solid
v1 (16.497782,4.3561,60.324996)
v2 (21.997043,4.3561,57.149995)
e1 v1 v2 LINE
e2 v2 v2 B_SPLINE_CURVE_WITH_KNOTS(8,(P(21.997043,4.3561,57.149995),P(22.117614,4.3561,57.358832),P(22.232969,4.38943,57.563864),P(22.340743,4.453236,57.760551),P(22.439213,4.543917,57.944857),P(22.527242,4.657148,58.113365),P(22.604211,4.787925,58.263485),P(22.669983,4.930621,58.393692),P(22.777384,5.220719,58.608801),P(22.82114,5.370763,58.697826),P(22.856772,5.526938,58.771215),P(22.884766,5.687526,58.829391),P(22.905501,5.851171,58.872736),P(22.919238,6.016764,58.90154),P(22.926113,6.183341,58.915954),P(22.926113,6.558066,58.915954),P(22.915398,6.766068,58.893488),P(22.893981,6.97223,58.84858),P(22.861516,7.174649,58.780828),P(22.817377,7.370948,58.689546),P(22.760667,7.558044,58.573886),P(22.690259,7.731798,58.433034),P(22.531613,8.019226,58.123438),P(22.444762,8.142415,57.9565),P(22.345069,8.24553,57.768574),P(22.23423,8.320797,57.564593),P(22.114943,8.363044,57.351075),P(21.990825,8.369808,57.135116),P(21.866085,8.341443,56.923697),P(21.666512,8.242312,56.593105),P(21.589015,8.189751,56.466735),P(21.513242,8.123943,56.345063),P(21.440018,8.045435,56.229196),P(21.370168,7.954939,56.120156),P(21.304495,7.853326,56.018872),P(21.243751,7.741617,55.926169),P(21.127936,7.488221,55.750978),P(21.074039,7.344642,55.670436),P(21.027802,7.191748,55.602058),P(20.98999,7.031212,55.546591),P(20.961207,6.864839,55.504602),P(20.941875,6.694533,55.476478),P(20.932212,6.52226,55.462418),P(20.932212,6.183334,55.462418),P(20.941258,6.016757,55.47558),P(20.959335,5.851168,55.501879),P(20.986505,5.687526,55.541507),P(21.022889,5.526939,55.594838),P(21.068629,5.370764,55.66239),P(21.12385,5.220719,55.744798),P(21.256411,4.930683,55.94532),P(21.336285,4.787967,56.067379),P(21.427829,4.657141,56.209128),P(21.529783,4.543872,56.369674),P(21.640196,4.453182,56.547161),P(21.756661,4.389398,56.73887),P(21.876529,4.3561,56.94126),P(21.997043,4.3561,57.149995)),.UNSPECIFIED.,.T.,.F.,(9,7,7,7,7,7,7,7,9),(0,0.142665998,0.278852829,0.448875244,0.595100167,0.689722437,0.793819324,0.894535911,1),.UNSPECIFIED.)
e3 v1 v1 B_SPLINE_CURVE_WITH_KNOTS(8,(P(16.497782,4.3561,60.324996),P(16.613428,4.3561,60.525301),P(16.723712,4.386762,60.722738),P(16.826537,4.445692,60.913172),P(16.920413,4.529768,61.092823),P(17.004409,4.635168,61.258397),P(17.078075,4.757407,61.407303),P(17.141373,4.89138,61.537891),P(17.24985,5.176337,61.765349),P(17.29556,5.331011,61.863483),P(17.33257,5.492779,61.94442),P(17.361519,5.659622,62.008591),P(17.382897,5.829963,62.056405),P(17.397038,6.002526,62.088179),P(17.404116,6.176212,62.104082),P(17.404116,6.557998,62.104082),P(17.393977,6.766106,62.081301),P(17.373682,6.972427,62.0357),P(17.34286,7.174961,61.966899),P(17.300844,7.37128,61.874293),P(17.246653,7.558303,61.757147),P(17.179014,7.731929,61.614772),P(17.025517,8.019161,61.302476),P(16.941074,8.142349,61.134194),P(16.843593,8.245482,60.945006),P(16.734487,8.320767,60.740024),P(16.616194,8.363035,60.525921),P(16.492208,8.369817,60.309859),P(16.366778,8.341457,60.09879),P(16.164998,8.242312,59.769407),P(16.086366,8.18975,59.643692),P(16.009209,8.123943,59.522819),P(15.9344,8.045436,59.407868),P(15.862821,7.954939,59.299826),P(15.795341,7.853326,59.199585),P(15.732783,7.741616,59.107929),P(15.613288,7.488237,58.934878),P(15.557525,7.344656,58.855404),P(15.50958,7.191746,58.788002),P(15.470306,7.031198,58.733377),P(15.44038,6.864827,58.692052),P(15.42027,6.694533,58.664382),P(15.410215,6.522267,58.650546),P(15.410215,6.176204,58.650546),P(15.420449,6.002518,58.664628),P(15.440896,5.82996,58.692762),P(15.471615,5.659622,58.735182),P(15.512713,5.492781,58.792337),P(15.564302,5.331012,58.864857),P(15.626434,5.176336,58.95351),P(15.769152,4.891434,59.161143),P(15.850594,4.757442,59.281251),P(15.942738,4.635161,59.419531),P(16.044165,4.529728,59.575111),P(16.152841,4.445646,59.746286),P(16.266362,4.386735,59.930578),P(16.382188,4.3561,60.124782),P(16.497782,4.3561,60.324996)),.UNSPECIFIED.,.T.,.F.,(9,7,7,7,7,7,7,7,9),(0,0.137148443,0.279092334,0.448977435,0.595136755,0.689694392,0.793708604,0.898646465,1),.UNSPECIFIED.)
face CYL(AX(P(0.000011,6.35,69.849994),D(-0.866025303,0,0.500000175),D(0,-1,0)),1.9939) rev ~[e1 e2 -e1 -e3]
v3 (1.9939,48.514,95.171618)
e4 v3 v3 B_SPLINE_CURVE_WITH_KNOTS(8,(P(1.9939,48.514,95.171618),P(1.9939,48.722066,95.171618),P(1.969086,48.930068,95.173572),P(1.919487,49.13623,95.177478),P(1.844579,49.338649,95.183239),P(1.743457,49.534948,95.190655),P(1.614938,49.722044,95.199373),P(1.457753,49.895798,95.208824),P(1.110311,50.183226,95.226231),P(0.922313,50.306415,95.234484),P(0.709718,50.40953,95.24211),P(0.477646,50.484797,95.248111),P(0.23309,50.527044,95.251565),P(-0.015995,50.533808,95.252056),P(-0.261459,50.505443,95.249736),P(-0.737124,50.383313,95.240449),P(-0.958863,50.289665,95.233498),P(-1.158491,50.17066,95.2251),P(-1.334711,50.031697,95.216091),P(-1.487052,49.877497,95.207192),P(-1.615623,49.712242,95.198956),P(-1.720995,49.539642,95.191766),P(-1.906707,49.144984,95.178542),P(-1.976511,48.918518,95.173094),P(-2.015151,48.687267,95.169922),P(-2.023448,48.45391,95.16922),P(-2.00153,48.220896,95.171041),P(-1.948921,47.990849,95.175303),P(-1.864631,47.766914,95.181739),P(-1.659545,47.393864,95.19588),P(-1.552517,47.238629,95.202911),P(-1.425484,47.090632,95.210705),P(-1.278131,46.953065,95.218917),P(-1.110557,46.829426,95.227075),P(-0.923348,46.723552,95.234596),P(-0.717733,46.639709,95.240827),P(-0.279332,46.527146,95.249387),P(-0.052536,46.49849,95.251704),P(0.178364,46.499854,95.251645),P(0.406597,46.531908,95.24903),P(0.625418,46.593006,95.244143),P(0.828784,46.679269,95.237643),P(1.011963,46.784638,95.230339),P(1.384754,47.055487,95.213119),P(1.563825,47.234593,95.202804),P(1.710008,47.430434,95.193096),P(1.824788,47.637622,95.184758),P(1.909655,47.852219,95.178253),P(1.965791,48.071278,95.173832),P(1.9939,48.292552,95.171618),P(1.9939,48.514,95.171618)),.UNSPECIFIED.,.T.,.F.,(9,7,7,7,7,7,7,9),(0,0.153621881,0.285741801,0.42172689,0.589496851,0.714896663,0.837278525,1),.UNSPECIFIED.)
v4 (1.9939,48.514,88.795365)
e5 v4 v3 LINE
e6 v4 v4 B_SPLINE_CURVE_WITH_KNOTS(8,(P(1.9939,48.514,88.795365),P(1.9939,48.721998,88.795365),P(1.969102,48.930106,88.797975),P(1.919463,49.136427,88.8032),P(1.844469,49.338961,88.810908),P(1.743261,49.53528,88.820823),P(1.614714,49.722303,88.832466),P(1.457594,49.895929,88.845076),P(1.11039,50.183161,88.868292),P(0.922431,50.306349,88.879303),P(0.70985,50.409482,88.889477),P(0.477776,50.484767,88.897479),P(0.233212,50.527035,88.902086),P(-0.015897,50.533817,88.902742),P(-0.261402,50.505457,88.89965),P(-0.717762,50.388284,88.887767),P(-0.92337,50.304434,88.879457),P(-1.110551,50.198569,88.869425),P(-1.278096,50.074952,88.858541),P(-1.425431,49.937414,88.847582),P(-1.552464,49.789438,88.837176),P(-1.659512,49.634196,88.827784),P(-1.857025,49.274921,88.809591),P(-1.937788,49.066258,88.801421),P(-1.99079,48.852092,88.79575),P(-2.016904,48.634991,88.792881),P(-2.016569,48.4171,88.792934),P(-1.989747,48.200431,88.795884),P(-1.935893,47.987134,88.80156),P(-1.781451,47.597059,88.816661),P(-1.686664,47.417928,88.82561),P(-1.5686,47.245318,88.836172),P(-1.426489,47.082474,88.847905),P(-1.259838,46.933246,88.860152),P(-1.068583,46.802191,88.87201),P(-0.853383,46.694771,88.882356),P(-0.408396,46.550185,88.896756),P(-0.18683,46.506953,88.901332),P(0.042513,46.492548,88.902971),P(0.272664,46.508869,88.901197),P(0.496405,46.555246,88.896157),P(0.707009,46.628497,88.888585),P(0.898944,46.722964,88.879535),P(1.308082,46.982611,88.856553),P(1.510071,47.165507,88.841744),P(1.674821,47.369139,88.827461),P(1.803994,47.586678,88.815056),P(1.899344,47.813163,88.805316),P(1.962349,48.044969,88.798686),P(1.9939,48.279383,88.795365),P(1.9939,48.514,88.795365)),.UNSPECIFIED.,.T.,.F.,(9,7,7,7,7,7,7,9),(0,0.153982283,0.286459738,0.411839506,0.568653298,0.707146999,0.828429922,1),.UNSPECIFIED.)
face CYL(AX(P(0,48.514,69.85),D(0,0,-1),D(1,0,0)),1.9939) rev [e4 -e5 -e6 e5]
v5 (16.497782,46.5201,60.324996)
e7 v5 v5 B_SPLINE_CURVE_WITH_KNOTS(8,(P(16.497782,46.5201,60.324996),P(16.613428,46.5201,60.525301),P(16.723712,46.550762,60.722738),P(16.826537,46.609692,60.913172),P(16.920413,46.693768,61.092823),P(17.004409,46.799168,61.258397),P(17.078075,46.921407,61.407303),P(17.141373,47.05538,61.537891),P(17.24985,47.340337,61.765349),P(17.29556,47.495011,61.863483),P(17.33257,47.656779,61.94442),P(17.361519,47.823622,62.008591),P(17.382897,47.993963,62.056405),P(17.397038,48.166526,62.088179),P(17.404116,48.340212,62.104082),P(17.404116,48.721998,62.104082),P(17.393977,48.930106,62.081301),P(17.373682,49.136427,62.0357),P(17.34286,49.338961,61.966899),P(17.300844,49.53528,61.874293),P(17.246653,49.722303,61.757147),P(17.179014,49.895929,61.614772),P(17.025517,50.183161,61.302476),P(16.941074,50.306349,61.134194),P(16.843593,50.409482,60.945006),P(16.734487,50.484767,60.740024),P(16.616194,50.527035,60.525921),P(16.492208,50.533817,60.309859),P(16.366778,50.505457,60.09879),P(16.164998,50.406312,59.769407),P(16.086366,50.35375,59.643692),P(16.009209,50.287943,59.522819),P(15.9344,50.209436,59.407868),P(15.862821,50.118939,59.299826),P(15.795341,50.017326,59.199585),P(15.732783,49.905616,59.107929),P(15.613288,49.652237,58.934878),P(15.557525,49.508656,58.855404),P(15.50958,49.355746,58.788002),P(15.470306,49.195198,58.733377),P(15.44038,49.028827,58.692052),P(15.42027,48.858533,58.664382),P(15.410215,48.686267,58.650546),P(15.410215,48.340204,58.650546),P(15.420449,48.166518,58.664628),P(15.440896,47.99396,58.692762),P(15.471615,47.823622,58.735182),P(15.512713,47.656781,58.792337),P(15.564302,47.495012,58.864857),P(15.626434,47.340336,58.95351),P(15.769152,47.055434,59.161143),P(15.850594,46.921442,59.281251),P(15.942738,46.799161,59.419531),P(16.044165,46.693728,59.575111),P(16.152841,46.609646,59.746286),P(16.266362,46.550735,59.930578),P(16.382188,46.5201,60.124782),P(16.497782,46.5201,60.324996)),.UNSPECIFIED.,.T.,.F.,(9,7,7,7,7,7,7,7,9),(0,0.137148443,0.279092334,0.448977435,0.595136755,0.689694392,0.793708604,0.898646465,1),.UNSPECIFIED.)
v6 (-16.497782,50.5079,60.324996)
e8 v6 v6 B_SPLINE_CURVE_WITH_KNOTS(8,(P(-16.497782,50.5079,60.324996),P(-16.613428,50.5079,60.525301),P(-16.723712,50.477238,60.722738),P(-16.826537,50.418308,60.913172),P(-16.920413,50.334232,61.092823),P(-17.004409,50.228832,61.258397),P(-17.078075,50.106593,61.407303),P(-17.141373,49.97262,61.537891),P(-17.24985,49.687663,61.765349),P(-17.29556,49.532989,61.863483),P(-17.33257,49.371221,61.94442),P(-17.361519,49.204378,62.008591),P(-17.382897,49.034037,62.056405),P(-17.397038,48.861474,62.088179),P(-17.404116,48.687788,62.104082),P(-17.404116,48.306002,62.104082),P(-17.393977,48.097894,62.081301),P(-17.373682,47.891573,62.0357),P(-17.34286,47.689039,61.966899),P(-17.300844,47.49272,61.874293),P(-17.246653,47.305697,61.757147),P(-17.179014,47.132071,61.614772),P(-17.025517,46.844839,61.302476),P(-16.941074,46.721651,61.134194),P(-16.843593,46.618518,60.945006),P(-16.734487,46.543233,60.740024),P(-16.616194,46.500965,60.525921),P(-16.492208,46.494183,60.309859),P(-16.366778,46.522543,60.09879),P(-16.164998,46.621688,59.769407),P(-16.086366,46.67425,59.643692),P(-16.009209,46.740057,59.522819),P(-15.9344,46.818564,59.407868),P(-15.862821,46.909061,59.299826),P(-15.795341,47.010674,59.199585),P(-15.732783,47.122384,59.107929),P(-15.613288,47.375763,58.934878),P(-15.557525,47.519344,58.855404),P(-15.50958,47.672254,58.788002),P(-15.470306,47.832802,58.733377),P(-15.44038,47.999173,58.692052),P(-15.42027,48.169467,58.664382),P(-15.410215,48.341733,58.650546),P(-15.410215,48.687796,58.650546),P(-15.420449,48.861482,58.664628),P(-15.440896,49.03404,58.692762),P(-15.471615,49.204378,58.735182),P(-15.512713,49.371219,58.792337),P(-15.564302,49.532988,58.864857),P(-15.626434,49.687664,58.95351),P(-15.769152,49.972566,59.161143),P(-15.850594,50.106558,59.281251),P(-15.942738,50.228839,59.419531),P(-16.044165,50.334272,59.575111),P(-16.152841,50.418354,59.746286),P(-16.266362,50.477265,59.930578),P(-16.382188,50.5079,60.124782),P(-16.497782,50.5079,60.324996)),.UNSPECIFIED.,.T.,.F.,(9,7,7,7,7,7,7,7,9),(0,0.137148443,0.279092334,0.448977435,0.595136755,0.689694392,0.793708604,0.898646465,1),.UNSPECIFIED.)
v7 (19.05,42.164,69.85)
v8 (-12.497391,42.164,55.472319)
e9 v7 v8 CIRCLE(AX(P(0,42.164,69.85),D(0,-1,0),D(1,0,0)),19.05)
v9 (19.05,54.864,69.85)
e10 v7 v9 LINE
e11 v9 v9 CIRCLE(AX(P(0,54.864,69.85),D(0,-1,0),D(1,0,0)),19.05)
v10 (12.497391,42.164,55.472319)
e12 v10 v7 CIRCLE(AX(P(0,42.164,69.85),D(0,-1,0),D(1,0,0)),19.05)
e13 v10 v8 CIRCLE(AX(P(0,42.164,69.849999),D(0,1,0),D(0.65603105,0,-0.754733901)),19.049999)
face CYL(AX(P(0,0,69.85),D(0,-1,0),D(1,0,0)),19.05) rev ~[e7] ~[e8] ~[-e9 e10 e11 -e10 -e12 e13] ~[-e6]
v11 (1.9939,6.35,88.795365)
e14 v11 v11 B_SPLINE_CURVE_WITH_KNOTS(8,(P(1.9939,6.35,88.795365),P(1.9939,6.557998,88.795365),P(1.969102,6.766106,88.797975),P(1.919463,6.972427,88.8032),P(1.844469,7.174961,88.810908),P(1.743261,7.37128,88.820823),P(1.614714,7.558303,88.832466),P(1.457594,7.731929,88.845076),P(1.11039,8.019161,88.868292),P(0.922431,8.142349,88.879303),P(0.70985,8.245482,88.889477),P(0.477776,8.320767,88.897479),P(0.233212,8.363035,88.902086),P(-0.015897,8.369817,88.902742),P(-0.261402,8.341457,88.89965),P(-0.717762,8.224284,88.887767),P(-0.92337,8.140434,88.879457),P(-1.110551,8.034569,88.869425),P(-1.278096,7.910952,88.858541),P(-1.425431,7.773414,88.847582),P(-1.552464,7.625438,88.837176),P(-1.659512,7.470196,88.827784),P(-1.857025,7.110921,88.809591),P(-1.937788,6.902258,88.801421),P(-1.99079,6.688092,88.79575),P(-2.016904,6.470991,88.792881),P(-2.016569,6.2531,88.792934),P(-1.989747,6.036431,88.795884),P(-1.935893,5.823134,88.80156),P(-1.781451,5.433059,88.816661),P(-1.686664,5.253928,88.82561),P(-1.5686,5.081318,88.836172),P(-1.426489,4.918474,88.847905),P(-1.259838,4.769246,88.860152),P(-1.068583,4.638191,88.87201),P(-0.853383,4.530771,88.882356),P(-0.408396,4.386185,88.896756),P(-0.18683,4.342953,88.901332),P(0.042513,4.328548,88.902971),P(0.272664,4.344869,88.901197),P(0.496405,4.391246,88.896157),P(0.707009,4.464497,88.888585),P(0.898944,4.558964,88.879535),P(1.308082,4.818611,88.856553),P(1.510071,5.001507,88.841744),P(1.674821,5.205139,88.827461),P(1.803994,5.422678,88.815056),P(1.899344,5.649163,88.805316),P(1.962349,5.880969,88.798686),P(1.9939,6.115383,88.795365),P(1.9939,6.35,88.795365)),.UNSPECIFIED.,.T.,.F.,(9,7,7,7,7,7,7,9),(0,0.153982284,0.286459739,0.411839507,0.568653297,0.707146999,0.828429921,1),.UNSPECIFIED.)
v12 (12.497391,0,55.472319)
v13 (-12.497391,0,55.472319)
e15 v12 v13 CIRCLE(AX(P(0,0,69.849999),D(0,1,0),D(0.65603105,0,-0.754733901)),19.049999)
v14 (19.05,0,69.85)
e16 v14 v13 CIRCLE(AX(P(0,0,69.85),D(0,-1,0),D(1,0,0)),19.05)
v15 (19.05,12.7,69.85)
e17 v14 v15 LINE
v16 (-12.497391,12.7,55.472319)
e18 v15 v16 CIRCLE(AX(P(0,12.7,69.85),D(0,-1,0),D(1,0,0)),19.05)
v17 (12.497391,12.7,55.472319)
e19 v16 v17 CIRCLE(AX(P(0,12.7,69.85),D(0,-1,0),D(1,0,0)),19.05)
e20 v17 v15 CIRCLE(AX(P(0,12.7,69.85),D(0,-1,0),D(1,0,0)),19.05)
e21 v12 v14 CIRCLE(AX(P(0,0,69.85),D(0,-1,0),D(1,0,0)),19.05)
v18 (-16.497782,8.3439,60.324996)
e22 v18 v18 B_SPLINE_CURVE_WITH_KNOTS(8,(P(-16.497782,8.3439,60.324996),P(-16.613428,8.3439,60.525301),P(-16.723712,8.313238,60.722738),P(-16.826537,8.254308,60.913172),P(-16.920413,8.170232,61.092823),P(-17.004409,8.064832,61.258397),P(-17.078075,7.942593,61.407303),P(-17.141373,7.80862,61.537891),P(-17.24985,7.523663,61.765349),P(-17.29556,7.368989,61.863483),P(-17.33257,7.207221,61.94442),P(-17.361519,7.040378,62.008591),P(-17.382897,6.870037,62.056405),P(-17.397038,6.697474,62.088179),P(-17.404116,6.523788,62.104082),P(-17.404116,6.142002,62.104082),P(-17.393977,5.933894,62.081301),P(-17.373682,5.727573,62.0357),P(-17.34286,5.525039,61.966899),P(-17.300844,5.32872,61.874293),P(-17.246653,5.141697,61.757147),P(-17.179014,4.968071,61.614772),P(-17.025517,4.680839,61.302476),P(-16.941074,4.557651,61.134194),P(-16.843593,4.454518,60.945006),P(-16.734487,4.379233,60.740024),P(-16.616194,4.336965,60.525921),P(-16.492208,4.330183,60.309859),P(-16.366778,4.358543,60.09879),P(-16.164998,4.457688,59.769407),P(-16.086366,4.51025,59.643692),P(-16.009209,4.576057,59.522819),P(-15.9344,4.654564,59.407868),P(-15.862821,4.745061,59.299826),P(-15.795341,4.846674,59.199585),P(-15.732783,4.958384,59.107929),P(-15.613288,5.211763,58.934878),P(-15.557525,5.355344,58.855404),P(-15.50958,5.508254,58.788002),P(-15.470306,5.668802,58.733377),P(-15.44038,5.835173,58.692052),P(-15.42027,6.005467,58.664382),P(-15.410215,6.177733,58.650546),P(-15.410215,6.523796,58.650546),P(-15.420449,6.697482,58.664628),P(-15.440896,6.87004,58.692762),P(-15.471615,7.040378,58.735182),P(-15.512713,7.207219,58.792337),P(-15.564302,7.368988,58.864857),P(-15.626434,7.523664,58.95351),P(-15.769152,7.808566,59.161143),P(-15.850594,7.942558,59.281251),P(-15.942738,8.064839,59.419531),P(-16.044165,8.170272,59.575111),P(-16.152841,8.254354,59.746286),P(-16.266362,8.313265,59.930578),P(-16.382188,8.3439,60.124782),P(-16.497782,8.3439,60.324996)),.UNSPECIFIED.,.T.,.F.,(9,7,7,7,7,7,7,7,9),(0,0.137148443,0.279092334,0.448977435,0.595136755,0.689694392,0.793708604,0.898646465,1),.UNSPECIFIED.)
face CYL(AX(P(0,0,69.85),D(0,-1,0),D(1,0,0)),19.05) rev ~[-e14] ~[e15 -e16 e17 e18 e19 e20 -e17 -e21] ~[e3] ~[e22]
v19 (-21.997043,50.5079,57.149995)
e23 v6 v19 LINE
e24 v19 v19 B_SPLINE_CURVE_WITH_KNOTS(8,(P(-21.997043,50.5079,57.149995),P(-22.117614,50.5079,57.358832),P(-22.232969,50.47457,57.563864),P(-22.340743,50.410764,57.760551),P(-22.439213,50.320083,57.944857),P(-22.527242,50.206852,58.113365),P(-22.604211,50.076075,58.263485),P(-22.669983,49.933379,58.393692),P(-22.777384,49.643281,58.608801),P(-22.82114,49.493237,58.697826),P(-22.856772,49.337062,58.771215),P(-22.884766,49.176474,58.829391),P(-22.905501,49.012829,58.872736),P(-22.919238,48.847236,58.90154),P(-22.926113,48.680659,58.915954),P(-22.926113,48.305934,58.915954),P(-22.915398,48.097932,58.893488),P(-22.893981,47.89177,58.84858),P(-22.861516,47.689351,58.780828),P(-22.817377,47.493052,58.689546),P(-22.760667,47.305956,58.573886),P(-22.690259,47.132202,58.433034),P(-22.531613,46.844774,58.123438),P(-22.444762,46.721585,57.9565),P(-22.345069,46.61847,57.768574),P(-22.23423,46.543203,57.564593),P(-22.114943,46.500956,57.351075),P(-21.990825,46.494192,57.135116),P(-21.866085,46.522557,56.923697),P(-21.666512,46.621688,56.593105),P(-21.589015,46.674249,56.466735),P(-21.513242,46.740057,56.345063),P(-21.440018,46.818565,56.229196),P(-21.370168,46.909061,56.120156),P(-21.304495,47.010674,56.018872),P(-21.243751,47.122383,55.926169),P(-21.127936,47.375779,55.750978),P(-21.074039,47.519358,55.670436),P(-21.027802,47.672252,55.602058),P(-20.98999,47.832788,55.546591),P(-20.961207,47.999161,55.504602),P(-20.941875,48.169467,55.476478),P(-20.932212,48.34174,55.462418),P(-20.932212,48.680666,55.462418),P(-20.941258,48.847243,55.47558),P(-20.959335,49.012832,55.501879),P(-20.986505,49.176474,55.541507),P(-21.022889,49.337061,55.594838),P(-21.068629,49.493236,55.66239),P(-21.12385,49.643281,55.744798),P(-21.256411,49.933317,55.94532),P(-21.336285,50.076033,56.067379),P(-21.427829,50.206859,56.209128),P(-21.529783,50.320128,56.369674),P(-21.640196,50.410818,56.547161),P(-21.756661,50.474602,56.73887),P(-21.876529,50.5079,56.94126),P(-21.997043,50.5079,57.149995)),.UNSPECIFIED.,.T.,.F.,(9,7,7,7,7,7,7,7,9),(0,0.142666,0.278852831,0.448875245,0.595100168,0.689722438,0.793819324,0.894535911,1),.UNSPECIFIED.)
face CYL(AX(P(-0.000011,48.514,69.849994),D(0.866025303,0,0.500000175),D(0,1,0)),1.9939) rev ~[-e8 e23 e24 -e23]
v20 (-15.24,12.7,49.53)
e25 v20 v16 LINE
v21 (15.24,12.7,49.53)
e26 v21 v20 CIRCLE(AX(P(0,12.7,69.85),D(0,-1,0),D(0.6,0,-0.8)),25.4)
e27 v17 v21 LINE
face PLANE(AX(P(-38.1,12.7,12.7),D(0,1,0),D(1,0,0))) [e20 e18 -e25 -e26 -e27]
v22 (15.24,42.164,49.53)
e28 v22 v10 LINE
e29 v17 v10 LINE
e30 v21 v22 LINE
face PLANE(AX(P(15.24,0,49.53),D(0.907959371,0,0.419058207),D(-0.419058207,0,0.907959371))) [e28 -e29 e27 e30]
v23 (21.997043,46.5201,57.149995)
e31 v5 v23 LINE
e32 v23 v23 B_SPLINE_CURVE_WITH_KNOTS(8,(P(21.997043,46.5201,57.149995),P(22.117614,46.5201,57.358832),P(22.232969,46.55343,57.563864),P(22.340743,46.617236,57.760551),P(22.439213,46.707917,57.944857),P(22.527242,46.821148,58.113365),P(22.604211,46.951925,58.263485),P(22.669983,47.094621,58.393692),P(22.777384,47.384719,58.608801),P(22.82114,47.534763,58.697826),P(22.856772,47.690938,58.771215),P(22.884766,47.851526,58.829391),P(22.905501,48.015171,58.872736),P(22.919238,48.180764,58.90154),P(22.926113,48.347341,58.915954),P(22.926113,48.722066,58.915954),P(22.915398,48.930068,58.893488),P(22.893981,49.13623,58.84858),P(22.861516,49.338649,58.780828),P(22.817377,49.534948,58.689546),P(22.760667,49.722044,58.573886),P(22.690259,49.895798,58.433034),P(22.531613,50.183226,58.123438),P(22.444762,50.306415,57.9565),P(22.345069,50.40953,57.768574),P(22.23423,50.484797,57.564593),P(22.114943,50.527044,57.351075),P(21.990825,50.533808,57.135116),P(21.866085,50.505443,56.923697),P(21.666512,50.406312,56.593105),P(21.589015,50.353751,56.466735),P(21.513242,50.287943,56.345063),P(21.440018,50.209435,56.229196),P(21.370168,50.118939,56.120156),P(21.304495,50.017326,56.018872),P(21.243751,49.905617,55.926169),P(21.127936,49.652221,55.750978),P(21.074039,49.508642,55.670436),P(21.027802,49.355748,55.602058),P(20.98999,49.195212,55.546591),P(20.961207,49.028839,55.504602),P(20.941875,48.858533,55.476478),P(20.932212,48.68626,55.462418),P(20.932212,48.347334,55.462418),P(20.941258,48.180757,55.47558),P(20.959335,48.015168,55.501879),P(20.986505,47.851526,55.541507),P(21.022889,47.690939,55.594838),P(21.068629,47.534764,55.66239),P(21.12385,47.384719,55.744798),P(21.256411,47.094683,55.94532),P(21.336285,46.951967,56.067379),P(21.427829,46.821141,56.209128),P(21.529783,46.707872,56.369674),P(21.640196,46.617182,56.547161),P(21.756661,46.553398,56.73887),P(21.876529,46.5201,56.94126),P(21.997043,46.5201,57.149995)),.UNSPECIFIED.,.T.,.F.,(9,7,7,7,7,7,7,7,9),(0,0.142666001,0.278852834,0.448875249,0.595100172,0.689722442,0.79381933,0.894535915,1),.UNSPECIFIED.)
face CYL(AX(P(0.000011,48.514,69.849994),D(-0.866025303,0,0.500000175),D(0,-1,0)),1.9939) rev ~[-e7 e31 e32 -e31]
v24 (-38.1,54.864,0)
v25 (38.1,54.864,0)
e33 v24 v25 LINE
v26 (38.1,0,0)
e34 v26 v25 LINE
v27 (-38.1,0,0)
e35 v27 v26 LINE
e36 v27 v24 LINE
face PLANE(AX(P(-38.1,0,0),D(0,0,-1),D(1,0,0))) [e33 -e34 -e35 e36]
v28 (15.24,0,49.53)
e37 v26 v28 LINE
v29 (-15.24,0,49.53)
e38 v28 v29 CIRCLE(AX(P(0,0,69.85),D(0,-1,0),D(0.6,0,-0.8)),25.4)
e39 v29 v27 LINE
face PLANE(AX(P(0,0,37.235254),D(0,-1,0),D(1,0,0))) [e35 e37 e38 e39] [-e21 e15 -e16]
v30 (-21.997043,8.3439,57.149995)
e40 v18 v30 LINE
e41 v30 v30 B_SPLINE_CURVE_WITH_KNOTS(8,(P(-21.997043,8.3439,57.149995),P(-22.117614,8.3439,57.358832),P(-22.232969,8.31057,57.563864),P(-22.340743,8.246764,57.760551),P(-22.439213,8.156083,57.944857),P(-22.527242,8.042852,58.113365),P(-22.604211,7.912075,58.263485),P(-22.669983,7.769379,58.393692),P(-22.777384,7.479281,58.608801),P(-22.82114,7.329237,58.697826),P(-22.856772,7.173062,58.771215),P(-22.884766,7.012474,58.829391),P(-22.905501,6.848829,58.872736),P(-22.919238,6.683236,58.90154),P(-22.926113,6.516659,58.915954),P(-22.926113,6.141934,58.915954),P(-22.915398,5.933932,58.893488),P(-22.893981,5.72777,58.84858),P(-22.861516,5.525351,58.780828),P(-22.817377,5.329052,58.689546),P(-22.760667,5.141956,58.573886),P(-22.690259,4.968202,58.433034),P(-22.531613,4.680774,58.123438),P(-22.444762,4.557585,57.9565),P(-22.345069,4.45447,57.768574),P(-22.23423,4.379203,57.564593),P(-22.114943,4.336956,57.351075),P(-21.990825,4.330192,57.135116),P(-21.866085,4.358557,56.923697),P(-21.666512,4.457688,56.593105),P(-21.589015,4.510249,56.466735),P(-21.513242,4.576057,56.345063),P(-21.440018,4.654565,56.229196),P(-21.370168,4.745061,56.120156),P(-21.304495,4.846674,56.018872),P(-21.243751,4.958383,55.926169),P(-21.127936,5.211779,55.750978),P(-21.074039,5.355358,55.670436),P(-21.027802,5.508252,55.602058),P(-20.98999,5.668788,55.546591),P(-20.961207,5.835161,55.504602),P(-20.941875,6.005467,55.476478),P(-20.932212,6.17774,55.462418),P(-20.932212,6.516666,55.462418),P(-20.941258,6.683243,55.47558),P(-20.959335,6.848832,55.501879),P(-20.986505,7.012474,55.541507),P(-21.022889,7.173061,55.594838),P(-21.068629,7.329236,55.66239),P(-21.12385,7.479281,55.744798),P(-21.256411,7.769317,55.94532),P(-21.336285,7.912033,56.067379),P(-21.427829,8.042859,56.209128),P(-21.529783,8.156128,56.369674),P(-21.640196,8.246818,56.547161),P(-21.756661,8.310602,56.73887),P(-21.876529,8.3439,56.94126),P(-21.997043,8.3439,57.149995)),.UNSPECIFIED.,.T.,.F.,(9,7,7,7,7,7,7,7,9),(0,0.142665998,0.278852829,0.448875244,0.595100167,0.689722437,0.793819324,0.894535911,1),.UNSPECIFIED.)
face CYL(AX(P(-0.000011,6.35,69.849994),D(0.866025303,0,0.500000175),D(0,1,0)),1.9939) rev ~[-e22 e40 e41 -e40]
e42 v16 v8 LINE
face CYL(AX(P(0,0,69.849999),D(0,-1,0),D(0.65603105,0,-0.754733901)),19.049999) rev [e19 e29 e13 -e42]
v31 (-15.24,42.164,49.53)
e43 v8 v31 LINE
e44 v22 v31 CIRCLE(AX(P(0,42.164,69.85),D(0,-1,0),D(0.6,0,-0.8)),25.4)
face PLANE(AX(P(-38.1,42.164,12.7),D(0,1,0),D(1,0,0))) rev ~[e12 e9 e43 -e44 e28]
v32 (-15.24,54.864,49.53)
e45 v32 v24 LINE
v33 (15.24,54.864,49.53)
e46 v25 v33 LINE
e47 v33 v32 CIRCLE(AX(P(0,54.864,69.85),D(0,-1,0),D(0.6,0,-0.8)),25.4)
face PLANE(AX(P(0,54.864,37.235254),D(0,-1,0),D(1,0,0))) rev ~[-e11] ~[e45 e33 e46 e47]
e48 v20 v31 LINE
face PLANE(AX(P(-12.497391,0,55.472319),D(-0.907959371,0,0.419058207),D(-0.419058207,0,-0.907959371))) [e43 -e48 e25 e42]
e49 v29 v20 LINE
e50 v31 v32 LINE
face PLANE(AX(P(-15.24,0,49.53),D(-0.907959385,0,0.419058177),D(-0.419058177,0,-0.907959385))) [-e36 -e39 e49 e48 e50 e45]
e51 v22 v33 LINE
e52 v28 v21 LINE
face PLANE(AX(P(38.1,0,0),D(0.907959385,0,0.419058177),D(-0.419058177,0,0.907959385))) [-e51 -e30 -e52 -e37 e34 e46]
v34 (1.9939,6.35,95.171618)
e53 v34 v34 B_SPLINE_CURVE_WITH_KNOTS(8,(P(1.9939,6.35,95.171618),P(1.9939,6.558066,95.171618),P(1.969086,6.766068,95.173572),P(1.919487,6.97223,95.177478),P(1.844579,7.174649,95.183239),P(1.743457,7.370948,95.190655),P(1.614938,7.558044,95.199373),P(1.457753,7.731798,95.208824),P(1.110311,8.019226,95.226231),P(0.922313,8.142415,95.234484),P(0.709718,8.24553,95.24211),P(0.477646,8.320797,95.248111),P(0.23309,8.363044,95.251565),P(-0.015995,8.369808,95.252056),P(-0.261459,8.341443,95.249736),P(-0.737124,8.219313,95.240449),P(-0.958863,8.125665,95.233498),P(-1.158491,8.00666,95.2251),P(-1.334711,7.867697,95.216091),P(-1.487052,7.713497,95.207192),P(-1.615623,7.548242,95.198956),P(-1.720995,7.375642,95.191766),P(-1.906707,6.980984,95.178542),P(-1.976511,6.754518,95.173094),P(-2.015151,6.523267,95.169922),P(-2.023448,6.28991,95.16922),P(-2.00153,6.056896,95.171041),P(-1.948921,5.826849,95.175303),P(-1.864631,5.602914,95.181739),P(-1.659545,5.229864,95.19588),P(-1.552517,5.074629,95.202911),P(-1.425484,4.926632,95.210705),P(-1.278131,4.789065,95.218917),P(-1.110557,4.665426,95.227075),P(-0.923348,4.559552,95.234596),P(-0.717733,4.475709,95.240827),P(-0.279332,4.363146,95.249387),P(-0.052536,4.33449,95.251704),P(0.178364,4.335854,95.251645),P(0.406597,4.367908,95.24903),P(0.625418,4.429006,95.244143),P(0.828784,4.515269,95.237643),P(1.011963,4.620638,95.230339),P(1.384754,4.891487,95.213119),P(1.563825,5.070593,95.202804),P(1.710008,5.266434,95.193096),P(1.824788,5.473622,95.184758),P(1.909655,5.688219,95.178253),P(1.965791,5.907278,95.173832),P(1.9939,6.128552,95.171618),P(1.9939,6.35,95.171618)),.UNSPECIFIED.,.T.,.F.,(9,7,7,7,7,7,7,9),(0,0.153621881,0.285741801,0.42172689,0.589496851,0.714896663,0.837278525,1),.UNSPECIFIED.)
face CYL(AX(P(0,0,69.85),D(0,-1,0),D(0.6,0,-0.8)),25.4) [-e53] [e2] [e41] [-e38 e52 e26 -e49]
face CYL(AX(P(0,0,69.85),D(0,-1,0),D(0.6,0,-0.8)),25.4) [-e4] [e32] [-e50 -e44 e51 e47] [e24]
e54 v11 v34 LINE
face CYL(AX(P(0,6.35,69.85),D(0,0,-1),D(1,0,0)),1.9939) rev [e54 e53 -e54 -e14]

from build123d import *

# Parameters (mm, degrees)
F0_R      = 19.05
F1_DEPTH  = 54.864
F3_W      = 76.2
F3_H      = 29.464
F4_DEPTH  = 82.551
F9_R      = 1.9939
F10_DEPTH = 25.401
F11_R     = 1.9939
F12_DEPTH = 67.921568
F13_R     = 1.9939
F14_DEPTH = 67.921568
F17_DEPTH = 42.164


with BuildPart() as f1:
    # F0 (on Front) → F1 (new body)
    with BuildSketch(Plane.XZ):
        with BuildLine():
            Line((38.1, 0), (15.24, 49.53))
            ThreePointArc((15.24, 49.53), (0, 95.25), (-15.24, 49.53))
            Line((-15.24, 49.53), (-38.1, 0))
            Line((-38.1, 0), (38.1, 0))
        make_face()
        with Locations((0, 69.85)):
            Circle(F0_R, mode=Mode.SUBTRACT)
    extrude(amount=-F1_DEPTH)

    # F3 (on offset) → F4 (cut, through all)
    with BuildSketch(Plane.XY.offset(12.7)):
        with Locations((0, 27.432)):
            Rectangle(F3_W, F3_H)
    extrude(amount=F4_DEPTH, mode=Mode.SUBTRACT)

    # F9 (on face) → F10 (cut, through all)
    with BuildSketch(Plane.XY.offset(69.85)):
        with Locations((0, 6.35)):
            Circle(F9_R)
        with Locations((0, 48.514)):
            Circle(F9_R)
    extrude(amount=F10_DEPTH, mode=Mode.SUBTRACT)

    # F11 (on face) → F12 (cut, through all)
    with BuildSketch(Plane(origin=(30.245937, 0, 17.4625), x_dir=(0, 1, 0), z_dir=(0.866025, 0, 0.5))):
        with Locations((6.35, 60.491874)):
            Circle(F11_R)
        with Locations((48.514, 60.491874)):
            Circle(F11_R)
    extrude(amount=-F12_DEPTH, mode=Mode.SUBTRACT)

    # F13 (on face) → F14 (cut, through all)
    with BuildSketch(Plane(origin=(-30.245937, 0, 17.4625), x_dir=(0, -1, 0), z_dir=(-0.866025, 0, 0.5))):
        with Locations((-48.514, 60.491874)):
            Circle(F13_R)
        with Locations((-6.35, 60.491874)):
            Circle(F13_R)
    extrude(amount=-F14_DEPTH, mode=Mode.SUBTRACT)

    # F16 (on face) → F17 (join, through all)
    with BuildSketch(Plane.XZ):
        with BuildLine():
            Line((-12.497391, 55.472319), (-15.24, 49.53))
            Line((-15.24, 49.53), (-38.1, 0))
            Line((-38.1, 0), (38.1, 0))
            Line((38.1, 0), (15.24, 49.53))
            Line((15.24, 49.53), (12.497391, 55.472319))
            ThreePointArc((12.497391, 55.472319), (0, 50.8), (-12.497391, 55.472319))
        make_face()
    extrude(amount=-F17_DEPTH)


solid = f1.part
